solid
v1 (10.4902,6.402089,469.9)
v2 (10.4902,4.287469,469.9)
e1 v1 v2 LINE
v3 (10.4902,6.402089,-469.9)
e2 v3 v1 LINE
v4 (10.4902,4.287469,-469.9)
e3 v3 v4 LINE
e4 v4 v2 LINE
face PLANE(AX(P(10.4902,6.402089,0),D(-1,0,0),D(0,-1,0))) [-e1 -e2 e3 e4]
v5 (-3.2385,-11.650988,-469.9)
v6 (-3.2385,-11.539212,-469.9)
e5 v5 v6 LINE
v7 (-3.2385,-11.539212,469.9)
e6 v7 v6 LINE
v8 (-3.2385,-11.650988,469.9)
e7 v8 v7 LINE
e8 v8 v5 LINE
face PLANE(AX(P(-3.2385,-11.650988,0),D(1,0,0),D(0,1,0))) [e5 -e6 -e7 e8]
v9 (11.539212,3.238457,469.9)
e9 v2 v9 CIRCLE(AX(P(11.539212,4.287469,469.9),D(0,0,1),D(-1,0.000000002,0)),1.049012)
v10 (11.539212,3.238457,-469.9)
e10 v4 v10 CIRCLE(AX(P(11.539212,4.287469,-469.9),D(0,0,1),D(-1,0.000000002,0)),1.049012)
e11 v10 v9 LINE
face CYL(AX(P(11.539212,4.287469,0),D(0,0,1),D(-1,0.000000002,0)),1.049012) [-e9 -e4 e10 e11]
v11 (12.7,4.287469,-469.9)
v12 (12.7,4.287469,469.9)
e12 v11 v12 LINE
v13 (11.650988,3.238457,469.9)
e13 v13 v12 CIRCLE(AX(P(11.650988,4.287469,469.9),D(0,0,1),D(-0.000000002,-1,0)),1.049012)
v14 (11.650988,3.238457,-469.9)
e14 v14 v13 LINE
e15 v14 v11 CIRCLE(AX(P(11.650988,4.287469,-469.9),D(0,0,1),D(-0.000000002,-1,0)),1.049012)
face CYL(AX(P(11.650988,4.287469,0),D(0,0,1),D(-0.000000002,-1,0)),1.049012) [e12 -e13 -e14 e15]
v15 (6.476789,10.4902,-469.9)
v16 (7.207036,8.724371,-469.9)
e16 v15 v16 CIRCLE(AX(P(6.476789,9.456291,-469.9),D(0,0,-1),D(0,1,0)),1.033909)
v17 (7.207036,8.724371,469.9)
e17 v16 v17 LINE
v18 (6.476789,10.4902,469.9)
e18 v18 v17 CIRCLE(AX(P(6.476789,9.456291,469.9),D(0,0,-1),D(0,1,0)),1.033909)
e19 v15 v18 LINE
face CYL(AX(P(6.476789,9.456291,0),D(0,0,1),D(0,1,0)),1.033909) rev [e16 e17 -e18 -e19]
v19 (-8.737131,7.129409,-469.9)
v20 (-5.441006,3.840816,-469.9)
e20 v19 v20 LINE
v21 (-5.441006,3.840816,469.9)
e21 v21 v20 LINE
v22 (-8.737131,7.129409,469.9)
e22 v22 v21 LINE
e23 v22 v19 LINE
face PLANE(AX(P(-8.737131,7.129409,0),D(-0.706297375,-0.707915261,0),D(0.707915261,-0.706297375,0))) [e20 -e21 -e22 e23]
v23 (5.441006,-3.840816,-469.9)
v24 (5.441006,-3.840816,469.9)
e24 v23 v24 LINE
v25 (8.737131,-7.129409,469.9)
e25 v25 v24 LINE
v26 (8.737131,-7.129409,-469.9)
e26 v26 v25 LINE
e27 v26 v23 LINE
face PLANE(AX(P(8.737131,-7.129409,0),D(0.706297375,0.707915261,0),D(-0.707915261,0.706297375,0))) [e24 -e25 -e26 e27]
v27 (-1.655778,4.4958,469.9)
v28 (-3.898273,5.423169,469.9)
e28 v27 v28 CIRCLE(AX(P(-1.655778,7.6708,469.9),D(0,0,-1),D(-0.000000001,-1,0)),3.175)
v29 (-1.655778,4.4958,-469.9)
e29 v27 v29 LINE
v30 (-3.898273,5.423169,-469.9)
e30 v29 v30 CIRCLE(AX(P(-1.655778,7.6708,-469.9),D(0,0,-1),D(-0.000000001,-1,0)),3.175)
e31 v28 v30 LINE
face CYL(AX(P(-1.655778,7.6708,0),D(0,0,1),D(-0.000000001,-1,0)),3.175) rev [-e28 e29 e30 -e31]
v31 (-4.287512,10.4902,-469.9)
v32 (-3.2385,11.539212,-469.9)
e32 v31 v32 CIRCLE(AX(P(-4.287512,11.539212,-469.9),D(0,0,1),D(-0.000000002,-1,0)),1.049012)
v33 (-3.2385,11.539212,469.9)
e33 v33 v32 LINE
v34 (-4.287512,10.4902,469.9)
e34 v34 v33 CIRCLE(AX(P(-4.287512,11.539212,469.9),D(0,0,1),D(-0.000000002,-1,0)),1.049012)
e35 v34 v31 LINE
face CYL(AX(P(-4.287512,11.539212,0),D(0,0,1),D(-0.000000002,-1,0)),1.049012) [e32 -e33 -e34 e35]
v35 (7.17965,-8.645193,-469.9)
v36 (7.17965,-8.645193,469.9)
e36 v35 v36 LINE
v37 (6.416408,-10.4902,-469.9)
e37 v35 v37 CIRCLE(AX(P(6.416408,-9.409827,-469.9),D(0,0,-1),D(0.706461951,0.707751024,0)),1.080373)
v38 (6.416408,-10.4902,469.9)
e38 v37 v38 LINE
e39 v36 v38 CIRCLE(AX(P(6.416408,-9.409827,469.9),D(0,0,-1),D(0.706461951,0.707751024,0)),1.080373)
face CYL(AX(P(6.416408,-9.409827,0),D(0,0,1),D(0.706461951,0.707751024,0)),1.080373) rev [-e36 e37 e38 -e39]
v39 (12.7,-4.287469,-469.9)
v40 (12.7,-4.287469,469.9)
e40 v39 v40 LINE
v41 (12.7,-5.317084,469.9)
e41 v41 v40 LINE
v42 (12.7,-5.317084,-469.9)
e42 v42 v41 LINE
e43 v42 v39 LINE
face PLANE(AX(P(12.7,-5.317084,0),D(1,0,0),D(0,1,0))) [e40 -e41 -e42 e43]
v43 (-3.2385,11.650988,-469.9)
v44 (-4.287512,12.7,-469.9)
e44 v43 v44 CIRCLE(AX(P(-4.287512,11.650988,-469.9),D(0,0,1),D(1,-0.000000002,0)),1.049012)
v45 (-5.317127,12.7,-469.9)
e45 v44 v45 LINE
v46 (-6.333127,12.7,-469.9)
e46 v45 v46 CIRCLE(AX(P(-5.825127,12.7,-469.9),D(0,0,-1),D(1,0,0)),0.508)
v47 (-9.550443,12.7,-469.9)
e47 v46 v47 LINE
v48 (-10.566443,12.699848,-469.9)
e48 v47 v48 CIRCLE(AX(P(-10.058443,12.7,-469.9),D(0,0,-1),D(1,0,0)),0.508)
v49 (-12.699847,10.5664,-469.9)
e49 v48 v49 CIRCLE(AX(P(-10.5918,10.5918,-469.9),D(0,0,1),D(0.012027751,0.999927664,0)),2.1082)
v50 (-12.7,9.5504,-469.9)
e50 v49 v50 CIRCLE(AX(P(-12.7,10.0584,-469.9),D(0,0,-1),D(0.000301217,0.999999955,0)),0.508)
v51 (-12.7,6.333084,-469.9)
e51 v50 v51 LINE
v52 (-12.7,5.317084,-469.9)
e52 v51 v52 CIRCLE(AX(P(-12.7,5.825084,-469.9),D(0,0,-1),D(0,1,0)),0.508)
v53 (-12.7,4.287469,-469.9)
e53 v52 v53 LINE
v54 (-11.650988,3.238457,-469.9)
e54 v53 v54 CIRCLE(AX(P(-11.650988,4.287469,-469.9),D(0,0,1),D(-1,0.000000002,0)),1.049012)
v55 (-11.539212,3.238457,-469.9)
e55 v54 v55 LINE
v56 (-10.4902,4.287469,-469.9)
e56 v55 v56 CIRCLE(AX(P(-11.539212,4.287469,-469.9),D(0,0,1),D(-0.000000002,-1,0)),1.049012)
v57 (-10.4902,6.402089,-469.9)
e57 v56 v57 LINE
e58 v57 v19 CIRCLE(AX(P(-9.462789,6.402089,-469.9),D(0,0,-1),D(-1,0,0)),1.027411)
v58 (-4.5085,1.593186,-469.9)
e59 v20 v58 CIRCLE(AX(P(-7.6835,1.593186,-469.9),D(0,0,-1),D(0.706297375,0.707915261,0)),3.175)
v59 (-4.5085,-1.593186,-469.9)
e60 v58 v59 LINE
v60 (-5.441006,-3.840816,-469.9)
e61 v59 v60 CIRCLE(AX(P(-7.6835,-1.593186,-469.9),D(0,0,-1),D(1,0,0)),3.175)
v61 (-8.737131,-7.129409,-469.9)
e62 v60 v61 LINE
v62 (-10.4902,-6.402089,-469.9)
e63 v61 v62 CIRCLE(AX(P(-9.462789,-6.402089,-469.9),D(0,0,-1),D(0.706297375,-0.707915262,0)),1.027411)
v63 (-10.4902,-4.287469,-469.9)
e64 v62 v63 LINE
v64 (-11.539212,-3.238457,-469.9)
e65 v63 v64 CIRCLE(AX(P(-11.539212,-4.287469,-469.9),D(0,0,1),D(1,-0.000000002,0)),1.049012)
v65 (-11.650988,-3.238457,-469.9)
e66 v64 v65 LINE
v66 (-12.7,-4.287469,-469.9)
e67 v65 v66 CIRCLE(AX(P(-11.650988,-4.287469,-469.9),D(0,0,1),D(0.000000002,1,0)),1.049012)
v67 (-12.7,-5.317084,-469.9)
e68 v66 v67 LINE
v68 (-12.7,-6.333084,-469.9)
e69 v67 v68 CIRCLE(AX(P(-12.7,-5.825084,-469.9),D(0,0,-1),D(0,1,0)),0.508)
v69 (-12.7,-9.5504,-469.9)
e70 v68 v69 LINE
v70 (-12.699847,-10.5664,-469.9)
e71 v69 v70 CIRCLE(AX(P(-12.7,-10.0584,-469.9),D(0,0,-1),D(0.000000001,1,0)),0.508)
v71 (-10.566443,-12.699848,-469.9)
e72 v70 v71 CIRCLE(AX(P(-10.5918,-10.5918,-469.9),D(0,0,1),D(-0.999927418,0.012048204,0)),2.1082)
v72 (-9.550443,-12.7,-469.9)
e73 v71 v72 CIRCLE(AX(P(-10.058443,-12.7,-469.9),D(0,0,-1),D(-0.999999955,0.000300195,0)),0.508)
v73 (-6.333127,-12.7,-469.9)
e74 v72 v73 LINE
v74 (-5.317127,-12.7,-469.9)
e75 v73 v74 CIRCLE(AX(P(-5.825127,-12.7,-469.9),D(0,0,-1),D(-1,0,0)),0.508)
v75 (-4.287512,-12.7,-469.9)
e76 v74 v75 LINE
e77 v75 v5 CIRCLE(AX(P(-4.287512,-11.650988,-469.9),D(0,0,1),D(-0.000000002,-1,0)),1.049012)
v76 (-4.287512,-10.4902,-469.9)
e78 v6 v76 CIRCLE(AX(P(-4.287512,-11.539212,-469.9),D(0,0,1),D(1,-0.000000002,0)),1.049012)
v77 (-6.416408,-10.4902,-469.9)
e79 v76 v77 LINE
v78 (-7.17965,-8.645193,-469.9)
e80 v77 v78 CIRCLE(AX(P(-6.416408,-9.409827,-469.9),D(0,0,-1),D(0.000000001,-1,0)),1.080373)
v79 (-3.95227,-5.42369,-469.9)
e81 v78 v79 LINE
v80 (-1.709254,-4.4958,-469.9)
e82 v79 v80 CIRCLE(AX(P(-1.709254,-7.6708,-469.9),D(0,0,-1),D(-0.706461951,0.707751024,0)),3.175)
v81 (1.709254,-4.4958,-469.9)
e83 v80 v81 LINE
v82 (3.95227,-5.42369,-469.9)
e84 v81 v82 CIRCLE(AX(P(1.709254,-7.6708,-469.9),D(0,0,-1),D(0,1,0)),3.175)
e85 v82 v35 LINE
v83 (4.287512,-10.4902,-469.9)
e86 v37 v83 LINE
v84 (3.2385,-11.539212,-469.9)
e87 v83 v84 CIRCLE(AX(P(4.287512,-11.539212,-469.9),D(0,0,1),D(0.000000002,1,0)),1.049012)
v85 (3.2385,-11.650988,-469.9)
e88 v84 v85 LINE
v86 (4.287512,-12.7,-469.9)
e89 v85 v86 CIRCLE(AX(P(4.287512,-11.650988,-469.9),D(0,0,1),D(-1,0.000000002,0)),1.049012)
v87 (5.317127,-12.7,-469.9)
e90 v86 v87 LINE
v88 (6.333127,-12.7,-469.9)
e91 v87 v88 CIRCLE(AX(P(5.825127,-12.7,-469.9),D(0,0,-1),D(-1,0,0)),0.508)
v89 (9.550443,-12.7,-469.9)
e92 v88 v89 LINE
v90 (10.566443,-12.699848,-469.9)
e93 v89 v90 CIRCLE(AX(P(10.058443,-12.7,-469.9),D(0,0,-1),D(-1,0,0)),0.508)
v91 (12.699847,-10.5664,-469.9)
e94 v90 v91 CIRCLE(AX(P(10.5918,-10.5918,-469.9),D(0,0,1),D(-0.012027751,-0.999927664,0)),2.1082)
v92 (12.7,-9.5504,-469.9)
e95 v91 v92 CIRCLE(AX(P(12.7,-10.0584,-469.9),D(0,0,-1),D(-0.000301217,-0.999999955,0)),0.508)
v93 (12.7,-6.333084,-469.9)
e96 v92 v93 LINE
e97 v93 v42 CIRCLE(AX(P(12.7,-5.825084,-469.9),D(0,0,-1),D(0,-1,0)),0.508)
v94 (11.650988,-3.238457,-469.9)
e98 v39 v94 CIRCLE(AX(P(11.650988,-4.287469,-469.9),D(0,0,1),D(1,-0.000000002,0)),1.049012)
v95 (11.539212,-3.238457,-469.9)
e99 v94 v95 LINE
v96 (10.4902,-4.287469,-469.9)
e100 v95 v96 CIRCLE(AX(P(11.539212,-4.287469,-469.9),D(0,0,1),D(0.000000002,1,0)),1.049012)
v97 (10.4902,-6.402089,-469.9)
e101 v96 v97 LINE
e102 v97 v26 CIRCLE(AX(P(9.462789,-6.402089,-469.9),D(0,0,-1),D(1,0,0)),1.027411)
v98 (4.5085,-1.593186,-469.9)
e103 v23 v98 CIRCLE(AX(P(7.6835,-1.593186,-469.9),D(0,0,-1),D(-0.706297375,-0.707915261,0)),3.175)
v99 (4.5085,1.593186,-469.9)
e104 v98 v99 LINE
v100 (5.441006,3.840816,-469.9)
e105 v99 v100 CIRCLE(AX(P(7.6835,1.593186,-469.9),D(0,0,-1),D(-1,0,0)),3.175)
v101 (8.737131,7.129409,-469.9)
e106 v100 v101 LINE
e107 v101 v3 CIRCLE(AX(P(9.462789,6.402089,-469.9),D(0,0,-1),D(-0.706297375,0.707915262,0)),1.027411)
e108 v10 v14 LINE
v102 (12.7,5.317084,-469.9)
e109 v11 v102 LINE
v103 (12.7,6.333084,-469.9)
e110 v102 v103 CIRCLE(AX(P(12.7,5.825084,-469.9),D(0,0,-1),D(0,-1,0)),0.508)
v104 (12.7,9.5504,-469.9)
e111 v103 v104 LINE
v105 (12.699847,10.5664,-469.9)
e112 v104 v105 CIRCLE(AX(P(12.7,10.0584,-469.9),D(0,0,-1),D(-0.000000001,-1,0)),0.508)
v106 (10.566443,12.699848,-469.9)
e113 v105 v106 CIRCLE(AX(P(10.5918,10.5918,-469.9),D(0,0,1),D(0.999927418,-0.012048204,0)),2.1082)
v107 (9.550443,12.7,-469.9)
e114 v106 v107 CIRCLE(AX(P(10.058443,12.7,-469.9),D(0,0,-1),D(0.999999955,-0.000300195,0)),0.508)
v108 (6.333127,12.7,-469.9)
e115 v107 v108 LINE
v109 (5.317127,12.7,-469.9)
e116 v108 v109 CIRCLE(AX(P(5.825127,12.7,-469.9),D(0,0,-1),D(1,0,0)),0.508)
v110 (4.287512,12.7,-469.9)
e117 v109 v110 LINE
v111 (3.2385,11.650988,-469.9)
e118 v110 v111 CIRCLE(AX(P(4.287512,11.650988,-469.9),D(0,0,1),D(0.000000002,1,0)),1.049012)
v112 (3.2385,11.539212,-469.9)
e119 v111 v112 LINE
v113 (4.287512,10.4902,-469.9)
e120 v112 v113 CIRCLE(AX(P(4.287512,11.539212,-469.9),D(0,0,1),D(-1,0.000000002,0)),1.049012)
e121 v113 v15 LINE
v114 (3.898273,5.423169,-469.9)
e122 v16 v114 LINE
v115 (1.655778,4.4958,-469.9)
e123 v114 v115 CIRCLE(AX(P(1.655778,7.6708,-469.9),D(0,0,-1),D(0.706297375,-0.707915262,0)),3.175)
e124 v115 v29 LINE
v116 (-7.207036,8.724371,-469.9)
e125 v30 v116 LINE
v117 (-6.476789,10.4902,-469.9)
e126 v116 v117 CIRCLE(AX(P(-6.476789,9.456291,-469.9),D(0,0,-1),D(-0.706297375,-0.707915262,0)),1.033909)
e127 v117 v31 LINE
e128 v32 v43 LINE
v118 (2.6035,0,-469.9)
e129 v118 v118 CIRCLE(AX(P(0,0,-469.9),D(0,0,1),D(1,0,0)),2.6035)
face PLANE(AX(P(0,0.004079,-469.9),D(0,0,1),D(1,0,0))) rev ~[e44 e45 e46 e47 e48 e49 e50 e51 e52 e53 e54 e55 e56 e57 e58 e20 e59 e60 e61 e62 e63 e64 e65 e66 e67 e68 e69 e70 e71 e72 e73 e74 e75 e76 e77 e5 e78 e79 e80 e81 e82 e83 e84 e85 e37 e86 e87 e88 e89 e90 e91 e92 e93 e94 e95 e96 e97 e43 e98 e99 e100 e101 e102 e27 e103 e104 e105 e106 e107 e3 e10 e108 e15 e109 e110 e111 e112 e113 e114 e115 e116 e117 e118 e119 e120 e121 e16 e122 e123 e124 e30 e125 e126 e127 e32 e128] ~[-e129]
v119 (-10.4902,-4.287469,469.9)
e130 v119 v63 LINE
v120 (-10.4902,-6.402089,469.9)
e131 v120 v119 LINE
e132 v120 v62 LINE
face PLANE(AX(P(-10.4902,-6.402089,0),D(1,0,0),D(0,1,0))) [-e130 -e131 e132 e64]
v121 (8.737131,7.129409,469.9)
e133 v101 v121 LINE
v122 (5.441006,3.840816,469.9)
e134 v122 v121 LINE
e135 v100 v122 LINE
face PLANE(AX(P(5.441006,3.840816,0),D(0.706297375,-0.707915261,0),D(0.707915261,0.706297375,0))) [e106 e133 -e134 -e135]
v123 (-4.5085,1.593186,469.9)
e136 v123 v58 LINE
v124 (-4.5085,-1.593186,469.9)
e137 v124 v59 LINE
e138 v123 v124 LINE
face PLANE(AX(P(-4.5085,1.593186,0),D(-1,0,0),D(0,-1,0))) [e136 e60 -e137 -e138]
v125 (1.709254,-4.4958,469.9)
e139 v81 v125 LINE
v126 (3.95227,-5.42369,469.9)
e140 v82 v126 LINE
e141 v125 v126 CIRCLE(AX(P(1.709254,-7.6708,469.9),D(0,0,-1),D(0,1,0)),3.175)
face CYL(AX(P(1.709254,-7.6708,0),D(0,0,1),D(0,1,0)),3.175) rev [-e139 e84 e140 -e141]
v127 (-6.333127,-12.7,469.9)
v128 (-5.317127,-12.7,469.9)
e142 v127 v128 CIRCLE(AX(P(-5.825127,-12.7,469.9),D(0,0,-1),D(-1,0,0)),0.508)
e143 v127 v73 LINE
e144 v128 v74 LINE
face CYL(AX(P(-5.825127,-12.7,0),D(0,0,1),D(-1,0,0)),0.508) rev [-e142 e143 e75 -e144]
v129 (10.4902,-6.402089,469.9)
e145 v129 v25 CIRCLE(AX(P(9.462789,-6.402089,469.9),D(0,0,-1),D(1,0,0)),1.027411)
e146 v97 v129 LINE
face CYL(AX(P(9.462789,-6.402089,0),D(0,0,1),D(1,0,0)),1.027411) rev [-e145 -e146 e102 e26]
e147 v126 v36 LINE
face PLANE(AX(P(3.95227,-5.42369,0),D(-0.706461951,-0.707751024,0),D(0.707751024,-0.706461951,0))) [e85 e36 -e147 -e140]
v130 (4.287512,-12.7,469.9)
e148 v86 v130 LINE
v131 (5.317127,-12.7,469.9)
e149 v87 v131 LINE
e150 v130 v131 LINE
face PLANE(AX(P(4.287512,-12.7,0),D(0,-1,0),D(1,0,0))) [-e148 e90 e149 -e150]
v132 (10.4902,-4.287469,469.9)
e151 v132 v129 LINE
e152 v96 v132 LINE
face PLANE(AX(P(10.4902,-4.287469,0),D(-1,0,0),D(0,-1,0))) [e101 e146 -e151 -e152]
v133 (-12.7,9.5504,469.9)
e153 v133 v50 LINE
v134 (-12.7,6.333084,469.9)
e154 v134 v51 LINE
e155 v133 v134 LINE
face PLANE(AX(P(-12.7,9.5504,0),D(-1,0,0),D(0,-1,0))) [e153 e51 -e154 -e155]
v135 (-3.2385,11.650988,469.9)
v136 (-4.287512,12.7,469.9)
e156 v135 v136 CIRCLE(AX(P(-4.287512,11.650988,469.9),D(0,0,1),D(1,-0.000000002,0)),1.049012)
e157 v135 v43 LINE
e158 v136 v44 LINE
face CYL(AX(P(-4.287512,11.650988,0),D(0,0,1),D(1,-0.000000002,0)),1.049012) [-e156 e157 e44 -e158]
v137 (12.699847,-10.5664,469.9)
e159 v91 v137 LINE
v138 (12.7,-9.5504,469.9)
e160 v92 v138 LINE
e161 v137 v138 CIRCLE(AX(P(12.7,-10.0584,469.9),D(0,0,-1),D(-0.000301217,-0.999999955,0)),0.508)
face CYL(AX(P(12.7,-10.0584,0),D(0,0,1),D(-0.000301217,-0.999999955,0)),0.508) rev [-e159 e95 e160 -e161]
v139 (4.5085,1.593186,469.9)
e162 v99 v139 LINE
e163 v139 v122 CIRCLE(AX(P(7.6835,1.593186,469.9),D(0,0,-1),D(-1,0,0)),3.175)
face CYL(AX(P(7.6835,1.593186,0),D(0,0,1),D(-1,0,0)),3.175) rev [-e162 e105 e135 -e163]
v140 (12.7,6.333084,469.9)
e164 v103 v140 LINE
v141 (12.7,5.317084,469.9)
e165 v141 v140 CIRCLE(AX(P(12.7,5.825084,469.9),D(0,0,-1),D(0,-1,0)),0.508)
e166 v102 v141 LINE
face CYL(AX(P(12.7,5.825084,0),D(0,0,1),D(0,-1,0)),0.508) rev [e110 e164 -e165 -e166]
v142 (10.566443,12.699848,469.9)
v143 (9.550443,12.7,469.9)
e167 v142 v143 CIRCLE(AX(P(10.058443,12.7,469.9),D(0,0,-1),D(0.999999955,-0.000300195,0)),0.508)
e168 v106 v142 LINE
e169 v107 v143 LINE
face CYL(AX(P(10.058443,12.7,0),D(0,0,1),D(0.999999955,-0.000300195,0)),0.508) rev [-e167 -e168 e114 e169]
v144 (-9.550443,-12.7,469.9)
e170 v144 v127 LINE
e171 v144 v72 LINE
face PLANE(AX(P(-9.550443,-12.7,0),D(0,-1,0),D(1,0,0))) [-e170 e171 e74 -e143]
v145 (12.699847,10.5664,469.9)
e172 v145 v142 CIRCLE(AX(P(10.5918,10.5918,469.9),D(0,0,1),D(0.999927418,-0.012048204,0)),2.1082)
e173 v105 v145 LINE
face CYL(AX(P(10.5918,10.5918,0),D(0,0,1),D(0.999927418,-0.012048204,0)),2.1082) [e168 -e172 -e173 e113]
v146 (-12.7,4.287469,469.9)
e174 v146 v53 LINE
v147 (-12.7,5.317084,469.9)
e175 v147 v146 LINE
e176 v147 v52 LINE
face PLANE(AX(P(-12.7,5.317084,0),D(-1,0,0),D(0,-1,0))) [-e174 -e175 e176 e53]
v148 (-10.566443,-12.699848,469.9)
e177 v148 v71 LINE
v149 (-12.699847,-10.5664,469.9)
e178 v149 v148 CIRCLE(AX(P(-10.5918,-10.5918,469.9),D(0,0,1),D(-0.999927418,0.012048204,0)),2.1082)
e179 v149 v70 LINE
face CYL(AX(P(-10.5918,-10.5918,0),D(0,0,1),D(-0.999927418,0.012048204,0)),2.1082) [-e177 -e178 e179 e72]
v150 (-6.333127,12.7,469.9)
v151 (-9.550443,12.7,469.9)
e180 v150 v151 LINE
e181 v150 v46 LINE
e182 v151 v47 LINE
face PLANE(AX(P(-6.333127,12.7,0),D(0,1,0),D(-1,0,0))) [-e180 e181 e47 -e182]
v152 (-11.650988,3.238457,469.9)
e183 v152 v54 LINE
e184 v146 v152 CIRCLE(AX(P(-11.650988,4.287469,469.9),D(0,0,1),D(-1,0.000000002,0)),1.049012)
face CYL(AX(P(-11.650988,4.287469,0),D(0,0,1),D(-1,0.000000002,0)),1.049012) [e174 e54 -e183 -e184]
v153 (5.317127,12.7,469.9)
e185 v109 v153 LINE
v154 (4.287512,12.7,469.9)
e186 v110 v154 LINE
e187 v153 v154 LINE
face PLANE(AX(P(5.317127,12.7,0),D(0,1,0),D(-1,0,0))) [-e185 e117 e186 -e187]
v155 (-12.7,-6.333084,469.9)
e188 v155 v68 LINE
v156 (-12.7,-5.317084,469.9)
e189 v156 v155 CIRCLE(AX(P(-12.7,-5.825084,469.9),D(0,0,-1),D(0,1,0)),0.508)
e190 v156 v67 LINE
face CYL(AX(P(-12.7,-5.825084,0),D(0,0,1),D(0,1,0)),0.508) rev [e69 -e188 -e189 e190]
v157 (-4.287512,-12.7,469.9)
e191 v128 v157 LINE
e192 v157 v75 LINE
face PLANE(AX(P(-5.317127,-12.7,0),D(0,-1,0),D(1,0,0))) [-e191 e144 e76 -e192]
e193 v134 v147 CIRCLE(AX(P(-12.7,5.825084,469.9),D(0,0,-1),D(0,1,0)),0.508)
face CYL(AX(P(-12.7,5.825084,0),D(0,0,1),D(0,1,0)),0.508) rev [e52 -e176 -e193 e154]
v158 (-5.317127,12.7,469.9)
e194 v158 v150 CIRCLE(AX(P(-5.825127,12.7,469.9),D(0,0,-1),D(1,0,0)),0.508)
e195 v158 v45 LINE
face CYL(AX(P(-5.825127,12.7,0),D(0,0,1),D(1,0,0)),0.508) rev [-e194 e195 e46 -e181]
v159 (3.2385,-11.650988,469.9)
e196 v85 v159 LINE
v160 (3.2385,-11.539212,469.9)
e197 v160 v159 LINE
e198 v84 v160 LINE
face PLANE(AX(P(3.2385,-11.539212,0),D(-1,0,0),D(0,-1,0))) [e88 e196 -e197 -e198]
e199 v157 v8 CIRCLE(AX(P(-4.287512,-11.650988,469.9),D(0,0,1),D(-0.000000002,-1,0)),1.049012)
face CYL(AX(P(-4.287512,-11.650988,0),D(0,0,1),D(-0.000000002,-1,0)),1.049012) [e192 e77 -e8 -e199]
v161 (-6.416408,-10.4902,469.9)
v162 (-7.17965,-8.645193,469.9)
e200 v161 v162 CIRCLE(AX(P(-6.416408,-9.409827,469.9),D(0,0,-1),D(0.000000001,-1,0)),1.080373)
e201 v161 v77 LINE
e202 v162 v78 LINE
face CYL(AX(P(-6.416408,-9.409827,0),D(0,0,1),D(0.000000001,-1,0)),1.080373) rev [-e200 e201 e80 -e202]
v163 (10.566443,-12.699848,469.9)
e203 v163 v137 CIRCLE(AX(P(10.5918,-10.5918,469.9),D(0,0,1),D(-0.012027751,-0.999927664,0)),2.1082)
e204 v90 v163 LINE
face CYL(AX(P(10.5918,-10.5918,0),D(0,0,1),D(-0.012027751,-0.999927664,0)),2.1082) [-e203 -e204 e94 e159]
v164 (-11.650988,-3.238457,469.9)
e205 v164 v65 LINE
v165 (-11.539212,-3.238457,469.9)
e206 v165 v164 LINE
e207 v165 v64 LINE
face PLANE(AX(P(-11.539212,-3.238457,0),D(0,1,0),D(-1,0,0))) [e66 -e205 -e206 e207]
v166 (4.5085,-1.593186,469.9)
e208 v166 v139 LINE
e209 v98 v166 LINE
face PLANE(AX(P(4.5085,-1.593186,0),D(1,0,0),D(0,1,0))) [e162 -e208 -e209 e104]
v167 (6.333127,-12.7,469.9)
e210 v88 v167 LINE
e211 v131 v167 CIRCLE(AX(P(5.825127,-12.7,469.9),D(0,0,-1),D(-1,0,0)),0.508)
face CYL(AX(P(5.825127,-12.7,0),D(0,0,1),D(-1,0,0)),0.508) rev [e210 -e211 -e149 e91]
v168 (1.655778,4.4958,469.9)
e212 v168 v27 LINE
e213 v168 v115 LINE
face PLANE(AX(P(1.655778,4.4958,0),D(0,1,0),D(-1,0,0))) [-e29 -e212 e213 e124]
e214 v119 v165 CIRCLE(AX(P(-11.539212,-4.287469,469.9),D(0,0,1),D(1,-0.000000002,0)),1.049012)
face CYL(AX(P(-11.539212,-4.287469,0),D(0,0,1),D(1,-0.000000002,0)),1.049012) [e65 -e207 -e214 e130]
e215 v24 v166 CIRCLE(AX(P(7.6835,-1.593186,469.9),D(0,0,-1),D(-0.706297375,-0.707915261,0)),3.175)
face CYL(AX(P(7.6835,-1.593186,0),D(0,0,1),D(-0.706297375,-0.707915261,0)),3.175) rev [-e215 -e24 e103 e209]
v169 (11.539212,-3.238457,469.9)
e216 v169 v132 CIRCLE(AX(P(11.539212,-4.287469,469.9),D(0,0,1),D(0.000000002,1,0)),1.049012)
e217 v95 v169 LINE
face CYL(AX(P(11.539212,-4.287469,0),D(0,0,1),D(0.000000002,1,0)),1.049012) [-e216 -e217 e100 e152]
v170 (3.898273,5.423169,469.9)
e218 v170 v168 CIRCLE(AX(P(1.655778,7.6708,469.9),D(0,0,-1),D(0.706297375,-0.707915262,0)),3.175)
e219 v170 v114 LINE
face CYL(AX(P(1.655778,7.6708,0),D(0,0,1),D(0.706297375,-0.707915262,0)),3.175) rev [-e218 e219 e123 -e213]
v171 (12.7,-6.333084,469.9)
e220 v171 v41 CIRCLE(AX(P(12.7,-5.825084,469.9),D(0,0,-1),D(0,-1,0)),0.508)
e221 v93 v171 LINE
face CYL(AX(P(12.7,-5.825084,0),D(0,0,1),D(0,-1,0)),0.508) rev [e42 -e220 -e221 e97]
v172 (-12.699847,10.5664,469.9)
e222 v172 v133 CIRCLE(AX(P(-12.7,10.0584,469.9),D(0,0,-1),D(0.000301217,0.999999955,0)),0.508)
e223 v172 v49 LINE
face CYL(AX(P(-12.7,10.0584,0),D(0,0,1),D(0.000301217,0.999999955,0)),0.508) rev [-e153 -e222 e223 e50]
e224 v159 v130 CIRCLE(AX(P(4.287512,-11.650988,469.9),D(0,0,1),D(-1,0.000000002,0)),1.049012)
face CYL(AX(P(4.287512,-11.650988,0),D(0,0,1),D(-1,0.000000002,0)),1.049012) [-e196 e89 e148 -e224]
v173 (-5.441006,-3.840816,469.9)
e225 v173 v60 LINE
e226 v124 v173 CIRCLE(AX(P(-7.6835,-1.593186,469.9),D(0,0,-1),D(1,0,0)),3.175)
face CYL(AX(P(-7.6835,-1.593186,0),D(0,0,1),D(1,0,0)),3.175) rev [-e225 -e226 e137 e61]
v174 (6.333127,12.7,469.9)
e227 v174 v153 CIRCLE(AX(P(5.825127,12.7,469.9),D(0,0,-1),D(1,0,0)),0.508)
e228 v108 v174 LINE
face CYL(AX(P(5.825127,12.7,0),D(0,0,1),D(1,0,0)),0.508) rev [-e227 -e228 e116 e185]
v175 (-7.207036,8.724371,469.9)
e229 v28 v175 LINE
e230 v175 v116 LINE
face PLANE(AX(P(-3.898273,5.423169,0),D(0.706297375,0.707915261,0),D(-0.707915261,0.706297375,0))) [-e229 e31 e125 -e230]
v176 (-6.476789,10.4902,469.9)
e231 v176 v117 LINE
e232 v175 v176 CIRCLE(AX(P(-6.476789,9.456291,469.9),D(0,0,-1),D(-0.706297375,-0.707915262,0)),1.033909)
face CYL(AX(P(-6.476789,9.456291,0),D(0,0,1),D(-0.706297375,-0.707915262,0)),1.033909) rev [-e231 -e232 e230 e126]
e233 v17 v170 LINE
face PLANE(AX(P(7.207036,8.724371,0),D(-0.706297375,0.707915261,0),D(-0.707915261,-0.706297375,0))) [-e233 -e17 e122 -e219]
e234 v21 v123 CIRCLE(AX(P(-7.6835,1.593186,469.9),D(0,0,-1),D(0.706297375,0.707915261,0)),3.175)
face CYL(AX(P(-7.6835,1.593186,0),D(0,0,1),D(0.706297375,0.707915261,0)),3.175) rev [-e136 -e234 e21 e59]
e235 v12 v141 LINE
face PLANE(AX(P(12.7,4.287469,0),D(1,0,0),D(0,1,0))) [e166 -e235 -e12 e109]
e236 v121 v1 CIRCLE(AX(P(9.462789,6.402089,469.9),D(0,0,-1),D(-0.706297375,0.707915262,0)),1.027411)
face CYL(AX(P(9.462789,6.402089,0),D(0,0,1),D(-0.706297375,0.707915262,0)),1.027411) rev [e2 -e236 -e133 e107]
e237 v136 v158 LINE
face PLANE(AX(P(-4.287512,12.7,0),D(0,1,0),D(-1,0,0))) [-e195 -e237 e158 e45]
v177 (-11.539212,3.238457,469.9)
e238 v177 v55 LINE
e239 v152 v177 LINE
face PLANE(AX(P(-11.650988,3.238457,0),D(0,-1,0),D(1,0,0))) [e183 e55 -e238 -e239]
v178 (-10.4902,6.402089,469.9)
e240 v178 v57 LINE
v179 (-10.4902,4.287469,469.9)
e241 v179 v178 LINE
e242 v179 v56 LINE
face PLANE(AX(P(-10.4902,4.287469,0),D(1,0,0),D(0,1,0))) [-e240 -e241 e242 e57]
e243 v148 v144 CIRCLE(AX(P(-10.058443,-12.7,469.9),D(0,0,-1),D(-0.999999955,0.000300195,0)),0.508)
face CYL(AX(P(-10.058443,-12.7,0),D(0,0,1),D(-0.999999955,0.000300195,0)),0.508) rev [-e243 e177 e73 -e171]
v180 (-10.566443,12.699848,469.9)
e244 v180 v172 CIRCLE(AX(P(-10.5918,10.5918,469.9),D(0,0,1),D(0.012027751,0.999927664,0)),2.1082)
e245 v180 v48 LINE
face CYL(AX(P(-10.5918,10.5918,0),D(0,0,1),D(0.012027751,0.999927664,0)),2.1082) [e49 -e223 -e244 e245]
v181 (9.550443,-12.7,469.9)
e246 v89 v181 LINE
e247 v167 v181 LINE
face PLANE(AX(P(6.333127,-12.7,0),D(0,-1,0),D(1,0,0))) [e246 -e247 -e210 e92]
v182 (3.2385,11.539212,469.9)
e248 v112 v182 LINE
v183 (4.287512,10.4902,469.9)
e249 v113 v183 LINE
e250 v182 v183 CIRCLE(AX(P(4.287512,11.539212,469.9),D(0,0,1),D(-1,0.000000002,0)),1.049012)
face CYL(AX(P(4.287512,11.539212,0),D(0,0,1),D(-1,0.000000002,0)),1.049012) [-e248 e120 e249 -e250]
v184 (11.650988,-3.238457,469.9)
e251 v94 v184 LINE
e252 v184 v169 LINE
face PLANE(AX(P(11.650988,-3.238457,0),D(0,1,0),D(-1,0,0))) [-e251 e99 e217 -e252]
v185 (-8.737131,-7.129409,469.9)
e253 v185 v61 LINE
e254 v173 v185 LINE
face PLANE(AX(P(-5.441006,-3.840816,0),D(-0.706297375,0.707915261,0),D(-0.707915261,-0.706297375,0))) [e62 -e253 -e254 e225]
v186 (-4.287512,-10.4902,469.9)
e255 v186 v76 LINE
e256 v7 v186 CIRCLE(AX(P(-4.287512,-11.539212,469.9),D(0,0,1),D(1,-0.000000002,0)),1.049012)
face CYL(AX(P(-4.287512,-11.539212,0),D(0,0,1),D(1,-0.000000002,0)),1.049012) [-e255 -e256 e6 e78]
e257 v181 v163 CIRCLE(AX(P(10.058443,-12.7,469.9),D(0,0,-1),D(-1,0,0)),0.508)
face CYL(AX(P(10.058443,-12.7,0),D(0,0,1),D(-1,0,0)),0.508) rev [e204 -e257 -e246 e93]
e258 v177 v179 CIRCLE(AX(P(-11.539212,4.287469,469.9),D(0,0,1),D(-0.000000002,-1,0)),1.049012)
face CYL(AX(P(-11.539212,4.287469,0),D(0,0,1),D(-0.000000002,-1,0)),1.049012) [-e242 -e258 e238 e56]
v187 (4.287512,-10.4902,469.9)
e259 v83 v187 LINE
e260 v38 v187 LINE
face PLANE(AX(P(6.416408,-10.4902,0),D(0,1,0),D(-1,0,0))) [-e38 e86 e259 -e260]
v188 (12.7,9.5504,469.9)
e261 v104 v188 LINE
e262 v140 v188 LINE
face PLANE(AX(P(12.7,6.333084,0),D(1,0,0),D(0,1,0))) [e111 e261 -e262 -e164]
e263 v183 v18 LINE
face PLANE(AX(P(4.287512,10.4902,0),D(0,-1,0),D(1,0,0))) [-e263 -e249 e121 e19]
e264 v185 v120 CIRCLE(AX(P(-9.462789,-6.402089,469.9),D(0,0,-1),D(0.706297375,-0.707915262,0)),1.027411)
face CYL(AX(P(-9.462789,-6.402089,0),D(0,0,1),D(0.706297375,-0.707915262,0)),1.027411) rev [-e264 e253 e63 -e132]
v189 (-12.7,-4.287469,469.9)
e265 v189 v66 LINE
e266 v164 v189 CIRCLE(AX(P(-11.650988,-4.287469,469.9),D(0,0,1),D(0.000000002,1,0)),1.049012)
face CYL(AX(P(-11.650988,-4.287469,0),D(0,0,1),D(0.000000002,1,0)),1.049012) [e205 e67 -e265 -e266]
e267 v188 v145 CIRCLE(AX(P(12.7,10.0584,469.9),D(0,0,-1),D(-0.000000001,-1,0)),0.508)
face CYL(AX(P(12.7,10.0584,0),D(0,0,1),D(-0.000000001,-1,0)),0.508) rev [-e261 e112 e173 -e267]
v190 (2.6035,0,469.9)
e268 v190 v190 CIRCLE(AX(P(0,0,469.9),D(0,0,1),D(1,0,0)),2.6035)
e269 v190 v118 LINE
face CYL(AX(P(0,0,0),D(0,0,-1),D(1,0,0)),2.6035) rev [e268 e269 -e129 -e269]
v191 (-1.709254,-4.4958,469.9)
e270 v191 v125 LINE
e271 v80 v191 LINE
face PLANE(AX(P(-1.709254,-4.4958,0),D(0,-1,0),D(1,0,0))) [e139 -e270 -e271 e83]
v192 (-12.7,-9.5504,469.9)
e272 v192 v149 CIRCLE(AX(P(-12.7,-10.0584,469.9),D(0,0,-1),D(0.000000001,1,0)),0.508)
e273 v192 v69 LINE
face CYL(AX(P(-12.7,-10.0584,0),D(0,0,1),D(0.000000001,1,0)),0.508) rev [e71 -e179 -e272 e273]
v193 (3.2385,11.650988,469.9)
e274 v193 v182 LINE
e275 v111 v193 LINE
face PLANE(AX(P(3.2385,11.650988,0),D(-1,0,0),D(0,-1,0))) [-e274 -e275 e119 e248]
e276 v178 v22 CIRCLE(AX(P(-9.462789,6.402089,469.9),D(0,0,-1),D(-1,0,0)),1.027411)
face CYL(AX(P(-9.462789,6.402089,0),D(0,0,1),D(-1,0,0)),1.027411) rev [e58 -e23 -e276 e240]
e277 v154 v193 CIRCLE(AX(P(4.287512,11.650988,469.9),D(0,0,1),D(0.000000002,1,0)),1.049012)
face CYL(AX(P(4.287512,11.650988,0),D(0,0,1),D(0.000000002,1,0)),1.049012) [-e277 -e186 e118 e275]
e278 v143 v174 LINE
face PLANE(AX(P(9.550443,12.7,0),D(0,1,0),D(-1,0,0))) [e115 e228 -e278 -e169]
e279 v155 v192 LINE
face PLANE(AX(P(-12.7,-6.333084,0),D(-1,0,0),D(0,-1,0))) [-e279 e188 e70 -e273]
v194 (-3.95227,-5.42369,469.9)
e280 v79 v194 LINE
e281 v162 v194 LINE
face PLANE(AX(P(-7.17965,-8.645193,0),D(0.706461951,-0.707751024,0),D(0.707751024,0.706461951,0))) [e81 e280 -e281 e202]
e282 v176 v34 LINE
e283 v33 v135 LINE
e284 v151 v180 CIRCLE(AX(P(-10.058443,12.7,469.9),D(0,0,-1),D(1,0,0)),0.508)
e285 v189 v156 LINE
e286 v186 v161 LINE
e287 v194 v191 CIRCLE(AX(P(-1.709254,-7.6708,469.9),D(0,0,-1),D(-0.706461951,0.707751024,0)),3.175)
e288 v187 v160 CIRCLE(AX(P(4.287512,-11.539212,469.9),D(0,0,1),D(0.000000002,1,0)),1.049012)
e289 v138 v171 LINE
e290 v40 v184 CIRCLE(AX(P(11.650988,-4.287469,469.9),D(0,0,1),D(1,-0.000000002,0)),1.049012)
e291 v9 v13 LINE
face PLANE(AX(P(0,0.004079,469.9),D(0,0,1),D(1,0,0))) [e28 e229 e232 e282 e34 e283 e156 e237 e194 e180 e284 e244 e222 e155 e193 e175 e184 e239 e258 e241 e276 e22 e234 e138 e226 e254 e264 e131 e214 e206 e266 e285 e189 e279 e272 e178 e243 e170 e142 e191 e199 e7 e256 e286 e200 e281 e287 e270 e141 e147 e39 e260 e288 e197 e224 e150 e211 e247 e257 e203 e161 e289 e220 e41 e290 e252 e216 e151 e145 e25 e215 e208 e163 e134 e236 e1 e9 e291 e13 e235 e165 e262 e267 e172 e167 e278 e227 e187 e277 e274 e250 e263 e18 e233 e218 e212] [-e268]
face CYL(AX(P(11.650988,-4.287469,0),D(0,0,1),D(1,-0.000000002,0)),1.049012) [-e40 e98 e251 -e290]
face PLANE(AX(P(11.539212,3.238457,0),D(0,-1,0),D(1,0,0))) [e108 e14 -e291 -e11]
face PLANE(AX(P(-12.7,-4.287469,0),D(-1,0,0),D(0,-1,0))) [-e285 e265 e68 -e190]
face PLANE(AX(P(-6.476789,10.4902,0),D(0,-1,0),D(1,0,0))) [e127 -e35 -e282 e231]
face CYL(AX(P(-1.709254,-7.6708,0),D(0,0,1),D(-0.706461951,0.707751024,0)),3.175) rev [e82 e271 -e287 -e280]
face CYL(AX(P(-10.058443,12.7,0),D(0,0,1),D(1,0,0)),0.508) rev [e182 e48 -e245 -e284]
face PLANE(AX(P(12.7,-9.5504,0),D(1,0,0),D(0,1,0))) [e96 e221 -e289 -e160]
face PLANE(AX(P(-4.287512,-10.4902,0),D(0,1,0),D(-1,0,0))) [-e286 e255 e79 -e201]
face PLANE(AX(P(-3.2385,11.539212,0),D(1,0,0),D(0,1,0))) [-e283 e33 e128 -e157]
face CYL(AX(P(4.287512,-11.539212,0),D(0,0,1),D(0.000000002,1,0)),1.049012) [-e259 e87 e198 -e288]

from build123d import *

# Parameters (mm, degrees)
SKETCH1_R           = 2.6035
BOSS_EXTRUDE1_DEPTH = 469.9


with BuildPart() as part:
    # Sketch1 → Boss-Extrude1 (new, symmetric)
    with BuildSketch(Plane.XY):
        with BuildLine():
            Line((-7.179650497, -8.645192506), (-3.952270251, -5.423690499))
            ThreePointArc((-3.952270251, -5.423690499), (-2.922936451, -4.736929036), (-1.709253557, -4.4958))
            Line((-1.709253557, -4.4958), (1.709253557, -4.4958))
            ThreePointArc((1.709253557, -4.4958), (2.922936451, -4.736929036), (3.952270251, -5.423690499))
            Line((3.952270251, -5.423690499), (7.179650497, -8.645192506))
            ThreePointArc((7.179650497, -8.645192506), (7.41473083, -9.822813117), (6.416408329, -10.4902))
            Line((6.416408329, -10.4902), (4.287512407, -10.4902))
            ThreePointArc((4.287512407, -10.4902), (3.54574862, -10.79744862), (3.2385, -11.539212407))
            Line((3.2385, -11.539212407), (3.2385, -11.650987593))
            ThreePointArc((3.2385, -11.650987593), (3.54574862, -12.39275138), (4.287512407, -12.7))
            Line((4.287512407, -12.7), (5.317126718, -12.7))
            ThreePointArc((5.317126718, -12.7), (5.825126718, -12.192), (6.333126718, -12.7))
            Line((6.333126718, -12.7), (9.550443118, -12.7))
            ThreePointArc((9.550443118, -12.7), (10.058366869, -12.192000006), (10.566443095, -12.699847501))
            ThreePointArc((10.566443095, -12.699847501), (12.082537762, -12.08250727), (12.699846982, -10.566399977))
            ThreePointArc((12.699846982, -10.566399977), (12.192000006, -10.058323491), (12.7, -9.5504))
            Line((12.7, -9.5504), (12.7, -6.3330836))
            ThreePointArc((12.7, -6.3330836), (12.192, -5.8250836), (12.7, -5.3170836))
            Line((12.7, -5.3170836), (12.7, -4.287469289))
            ThreePointArc((12.7, -4.287469289), (12.39275138, -3.545705502), (11.650987593, -3.238456882))
            Line((11.650987593, -3.238456882), (11.539212407, -3.238456882))
            ThreePointArc((11.539212407, -3.238456882), (10.79744862, -3.545705502), (10.4902, -4.287469289))
            Line((10.4902, -4.287469289), (10.4902, -6.402089023))
            ThreePointArc((10.4902, -6.402089023), (9.856505071, -7.351067942), (8.737131347, -7.129408934))
            Line((8.737131347, -7.129408934), (5.441005833, -3.840816462))
            ThreePointArc((5.441005833, -3.840816462), (4.750877967, -2.809883091), (4.5085, -1.593185507))
            Line((4.5085, -1.593185507), (4.5085, 1.593185507))
            ThreePointArc((4.5085, 1.593185507), (4.750877967, 2.809883091), (5.441005833, 3.840816462))
            Line((5.441005833, 3.840816462), (8.737131347, 7.129408934))
            ThreePointArc((8.737131347, 7.129408934), (9.856505071, 7.351067942), (10.4902, 6.402089023))
            Line((10.4902, 6.402089023), (10.4902, 4.287469289))
            ThreePointArc((10.4902, 4.287469289), (10.79744862, 3.545705502), (11.539212407, 3.238456882))
            Line((11.539212407, 3.238456882), (11.650987593, 3.238456882))
            ThreePointArc((11.650987593, 3.238456882), (12.39275138, 3.545705502), (12.7, 4.287469289))
            Line((12.7, 4.287469289), (12.7, 5.3170836))
            ThreePointArc((12.7, 5.3170836), (12.192, 5.8250836), (12.7, 6.3330836))
            Line((12.7, 6.3330836), (12.7, 9.5504))
            ThreePointArc((12.7, 9.5504), (12.192000006, 10.058323491), (12.699846982, 10.566399977))
            ThreePointArc((12.699846982, 10.566399977), (12.082537762, 12.08250727), (10.566443095, 12.699847501))
            ThreePointArc((10.566443095, 12.699847501), (10.058366869, 12.192000006), (9.550443118, 12.7))
            Line((9.550443118, 12.7), (6.333126718, 12.7))
            ThreePointArc((6.333126718, 12.7), (5.825126718, 12.192), (5.317126718, 12.7))
            Line((5.317126718, 12.7), (4.287512407, 12.7))
            ThreePointArc((4.287512407, 12.7), (3.54574862, 12.39275138), (3.2385, 11.650987593))
            Line((3.2385, 11.650987593), (3.2385, 11.539212407))
            ThreePointArc((3.2385, 11.539212407), (3.54574862, 10.79744862), (4.287512407, 10.4902))
            Line((4.287512407, 10.4902), (6.476788598, 10.4902))
            ThreePointArc((6.476788598, 10.4902), (7.432222385, 9.85140422), (7.207036008, 8.724370562))
            Line((7.207036008, 8.724370562), (3.898272566, 5.423169045))
            ThreePointArc((3.898272566, 5.423169045), (2.869120213, 4.736787962), (1.655778399, 4.4958))
            Line((1.655778399, 4.4958), (-1.655778399, 4.4958))
            ThreePointArc((-1.655778399, 4.4958), (-2.869120213, 4.736787962), (-3.898272566, 5.423169045))
            Line((-3.898272566, 5.423169045), (-7.207036008, 8.724370562))
            ThreePointArc((-7.207036008, 8.724370562), (-7.432222385, 9.85140422), (-6.476788598, 10.4902))
            Line((-6.476788598, 10.4902), (-4.287512407, 10.4902))
            ThreePointArc((-4.287512407, 10.4902), (-3.54574862, 10.79744862), (-3.2385, 11.539212407))
            Line((-3.2385, 11.539212407), (-3.2385, 11.650987593))
            ThreePointArc((-3.2385, 11.650987593), (-3.54574862, 12.39275138), (-4.287512407, 12.7))
            Line((-4.287512407, 12.7), (-5.317126718, 12.7))
            ThreePointArc((-5.317126718, 12.7), (-5.825126718, 12.192), (-6.333126718, 12.7))
            Line((-6.333126718, 12.7), (-9.550443118, 12.7))
            ThreePointArc((-9.550443118, 12.7), (-10.058366869, 12.192000006), (-10.566443095, 12.699847501))
            ThreePointArc((-10.566443095, 12.699847501), (-12.082537762, 12.08250727), (-12.699846982, 10.566399977))
            ThreePointArc((-12.699846982, 10.566399977), (-12.192000006, 10.058323491), (-12.7, 9.5504))
            Line((-12.7, 9.5504), (-12.7, 6.3330836))
            ThreePointArc((-12.7, 6.3330836), (-12.192, 5.8250836), (-12.7, 5.3170836))
            Line((-12.7, 5.3170836), (-12.7, 4.287469289))
            ThreePointArc((-12.7, 4.287469289), (-12.39275138, 3.545705502), (-11.650987593, 3.238456882))
            Line((-11.650987593, 3.238456882), (-11.539212407, 3.238456882))
            ThreePointArc((-11.539212407, 3.238456882), (-10.79744862, 3.545705502), (-10.4902, 4.287469289))
            Line((-10.4902, 4.287469289), (-10.4902, 6.402089023))
            ThreePointArc((-10.4902, 6.402089023), (-9.856505071, 7.351067942), (-8.737131347, 7.129408934))
            Line((-8.737131347, 7.129408934), (-5.441005833, 3.840816462))
            ThreePointArc((-5.441005833, 3.840816462), (-4.750877967, 2.809883091), (-4.5085, 1.593185507))
            Line((-4.5085, 1.593185507), (-4.5085, -1.593185507))
            ThreePointArc((-4.5085, -1.593185507), (-4.750877967, -2.809883091), (-5.441005833, -3.840816462))
            Line((-5.441005833, -3.840816462), (-8.737131347, -7.129408934))
            ThreePointArc((-8.737131347, -7.129408934), (-9.856505071, -7.351067942), (-10.4902, -6.402089023))
            Line((-10.4902, -6.402089023), (-10.4902, -4.287469289))
            ThreePointArc((-10.4902, -4.287469289), (-10.79744862, -3.545705502), (-11.539212407, -3.238456882))
            Line((-11.539212407, -3.238456882), (-11.650987593, -3.238456882))
            ThreePointArc((-11.650987593, -3.238456882), (-12.39275138, -3.545705502), (-12.7, -4.287469289))
            Line((-12.7, -4.287469289), (-12.7, -5.3170836))
            ThreePointArc((-12.7, -5.3170836), (-12.192, -5.8250836), (-12.7, -6.3330836))
            Line((-12.7, -6.3330836), (-12.7, -9.5504))
            ThreePointArc((-12.7, -9.5504), (-12.192000006, -10.058323491), (-12.699846982, -10.566399977))
            ThreePointArc((-12.699846982, -10.566399977), (-12.082537762, -12.08250727), (-10.566443095, -12.699847501))
            ThreePointArc((-10.566443095, -12.699847501), (-10.058366869, -12.192000006), (-9.550443118, -12.7))
            Line((-9.550443118, -12.7), (-6.333126718, -12.7))
            ThreePointArc((-6.333126718, -12.7), (-5.825126718, -12.192), (-5.317126718, -12.7))
            Line((-5.317126718, -12.7), (-4.287512407, -12.7))
            ThreePointArc((-4.287512407, -12.7), (-3.54574862, -12.39275138), (-3.2385, -11.650987593))
            Line((-3.2385, -11.650987593), (-3.2385, -11.539212407))
            ThreePointArc((-3.2385, -11.539212407), (-3.54574862, -10.79744862), (-4.287512407, -10.4902))
            Line((-4.287512407, -10.4902), (-6.416408329, -10.4902))
            ThreePointArc((-6.416408329, -10.4902), (-7.41473083, -9.822813117), (-7.179650497, -8.645192506))
        make_face()
        Circle(SKETCH1_R, mode=Mode.SUBTRACT)
    extrude(amount=BOSS_EXTRUDE1_DEPTH, both=True)


solid = part.part
